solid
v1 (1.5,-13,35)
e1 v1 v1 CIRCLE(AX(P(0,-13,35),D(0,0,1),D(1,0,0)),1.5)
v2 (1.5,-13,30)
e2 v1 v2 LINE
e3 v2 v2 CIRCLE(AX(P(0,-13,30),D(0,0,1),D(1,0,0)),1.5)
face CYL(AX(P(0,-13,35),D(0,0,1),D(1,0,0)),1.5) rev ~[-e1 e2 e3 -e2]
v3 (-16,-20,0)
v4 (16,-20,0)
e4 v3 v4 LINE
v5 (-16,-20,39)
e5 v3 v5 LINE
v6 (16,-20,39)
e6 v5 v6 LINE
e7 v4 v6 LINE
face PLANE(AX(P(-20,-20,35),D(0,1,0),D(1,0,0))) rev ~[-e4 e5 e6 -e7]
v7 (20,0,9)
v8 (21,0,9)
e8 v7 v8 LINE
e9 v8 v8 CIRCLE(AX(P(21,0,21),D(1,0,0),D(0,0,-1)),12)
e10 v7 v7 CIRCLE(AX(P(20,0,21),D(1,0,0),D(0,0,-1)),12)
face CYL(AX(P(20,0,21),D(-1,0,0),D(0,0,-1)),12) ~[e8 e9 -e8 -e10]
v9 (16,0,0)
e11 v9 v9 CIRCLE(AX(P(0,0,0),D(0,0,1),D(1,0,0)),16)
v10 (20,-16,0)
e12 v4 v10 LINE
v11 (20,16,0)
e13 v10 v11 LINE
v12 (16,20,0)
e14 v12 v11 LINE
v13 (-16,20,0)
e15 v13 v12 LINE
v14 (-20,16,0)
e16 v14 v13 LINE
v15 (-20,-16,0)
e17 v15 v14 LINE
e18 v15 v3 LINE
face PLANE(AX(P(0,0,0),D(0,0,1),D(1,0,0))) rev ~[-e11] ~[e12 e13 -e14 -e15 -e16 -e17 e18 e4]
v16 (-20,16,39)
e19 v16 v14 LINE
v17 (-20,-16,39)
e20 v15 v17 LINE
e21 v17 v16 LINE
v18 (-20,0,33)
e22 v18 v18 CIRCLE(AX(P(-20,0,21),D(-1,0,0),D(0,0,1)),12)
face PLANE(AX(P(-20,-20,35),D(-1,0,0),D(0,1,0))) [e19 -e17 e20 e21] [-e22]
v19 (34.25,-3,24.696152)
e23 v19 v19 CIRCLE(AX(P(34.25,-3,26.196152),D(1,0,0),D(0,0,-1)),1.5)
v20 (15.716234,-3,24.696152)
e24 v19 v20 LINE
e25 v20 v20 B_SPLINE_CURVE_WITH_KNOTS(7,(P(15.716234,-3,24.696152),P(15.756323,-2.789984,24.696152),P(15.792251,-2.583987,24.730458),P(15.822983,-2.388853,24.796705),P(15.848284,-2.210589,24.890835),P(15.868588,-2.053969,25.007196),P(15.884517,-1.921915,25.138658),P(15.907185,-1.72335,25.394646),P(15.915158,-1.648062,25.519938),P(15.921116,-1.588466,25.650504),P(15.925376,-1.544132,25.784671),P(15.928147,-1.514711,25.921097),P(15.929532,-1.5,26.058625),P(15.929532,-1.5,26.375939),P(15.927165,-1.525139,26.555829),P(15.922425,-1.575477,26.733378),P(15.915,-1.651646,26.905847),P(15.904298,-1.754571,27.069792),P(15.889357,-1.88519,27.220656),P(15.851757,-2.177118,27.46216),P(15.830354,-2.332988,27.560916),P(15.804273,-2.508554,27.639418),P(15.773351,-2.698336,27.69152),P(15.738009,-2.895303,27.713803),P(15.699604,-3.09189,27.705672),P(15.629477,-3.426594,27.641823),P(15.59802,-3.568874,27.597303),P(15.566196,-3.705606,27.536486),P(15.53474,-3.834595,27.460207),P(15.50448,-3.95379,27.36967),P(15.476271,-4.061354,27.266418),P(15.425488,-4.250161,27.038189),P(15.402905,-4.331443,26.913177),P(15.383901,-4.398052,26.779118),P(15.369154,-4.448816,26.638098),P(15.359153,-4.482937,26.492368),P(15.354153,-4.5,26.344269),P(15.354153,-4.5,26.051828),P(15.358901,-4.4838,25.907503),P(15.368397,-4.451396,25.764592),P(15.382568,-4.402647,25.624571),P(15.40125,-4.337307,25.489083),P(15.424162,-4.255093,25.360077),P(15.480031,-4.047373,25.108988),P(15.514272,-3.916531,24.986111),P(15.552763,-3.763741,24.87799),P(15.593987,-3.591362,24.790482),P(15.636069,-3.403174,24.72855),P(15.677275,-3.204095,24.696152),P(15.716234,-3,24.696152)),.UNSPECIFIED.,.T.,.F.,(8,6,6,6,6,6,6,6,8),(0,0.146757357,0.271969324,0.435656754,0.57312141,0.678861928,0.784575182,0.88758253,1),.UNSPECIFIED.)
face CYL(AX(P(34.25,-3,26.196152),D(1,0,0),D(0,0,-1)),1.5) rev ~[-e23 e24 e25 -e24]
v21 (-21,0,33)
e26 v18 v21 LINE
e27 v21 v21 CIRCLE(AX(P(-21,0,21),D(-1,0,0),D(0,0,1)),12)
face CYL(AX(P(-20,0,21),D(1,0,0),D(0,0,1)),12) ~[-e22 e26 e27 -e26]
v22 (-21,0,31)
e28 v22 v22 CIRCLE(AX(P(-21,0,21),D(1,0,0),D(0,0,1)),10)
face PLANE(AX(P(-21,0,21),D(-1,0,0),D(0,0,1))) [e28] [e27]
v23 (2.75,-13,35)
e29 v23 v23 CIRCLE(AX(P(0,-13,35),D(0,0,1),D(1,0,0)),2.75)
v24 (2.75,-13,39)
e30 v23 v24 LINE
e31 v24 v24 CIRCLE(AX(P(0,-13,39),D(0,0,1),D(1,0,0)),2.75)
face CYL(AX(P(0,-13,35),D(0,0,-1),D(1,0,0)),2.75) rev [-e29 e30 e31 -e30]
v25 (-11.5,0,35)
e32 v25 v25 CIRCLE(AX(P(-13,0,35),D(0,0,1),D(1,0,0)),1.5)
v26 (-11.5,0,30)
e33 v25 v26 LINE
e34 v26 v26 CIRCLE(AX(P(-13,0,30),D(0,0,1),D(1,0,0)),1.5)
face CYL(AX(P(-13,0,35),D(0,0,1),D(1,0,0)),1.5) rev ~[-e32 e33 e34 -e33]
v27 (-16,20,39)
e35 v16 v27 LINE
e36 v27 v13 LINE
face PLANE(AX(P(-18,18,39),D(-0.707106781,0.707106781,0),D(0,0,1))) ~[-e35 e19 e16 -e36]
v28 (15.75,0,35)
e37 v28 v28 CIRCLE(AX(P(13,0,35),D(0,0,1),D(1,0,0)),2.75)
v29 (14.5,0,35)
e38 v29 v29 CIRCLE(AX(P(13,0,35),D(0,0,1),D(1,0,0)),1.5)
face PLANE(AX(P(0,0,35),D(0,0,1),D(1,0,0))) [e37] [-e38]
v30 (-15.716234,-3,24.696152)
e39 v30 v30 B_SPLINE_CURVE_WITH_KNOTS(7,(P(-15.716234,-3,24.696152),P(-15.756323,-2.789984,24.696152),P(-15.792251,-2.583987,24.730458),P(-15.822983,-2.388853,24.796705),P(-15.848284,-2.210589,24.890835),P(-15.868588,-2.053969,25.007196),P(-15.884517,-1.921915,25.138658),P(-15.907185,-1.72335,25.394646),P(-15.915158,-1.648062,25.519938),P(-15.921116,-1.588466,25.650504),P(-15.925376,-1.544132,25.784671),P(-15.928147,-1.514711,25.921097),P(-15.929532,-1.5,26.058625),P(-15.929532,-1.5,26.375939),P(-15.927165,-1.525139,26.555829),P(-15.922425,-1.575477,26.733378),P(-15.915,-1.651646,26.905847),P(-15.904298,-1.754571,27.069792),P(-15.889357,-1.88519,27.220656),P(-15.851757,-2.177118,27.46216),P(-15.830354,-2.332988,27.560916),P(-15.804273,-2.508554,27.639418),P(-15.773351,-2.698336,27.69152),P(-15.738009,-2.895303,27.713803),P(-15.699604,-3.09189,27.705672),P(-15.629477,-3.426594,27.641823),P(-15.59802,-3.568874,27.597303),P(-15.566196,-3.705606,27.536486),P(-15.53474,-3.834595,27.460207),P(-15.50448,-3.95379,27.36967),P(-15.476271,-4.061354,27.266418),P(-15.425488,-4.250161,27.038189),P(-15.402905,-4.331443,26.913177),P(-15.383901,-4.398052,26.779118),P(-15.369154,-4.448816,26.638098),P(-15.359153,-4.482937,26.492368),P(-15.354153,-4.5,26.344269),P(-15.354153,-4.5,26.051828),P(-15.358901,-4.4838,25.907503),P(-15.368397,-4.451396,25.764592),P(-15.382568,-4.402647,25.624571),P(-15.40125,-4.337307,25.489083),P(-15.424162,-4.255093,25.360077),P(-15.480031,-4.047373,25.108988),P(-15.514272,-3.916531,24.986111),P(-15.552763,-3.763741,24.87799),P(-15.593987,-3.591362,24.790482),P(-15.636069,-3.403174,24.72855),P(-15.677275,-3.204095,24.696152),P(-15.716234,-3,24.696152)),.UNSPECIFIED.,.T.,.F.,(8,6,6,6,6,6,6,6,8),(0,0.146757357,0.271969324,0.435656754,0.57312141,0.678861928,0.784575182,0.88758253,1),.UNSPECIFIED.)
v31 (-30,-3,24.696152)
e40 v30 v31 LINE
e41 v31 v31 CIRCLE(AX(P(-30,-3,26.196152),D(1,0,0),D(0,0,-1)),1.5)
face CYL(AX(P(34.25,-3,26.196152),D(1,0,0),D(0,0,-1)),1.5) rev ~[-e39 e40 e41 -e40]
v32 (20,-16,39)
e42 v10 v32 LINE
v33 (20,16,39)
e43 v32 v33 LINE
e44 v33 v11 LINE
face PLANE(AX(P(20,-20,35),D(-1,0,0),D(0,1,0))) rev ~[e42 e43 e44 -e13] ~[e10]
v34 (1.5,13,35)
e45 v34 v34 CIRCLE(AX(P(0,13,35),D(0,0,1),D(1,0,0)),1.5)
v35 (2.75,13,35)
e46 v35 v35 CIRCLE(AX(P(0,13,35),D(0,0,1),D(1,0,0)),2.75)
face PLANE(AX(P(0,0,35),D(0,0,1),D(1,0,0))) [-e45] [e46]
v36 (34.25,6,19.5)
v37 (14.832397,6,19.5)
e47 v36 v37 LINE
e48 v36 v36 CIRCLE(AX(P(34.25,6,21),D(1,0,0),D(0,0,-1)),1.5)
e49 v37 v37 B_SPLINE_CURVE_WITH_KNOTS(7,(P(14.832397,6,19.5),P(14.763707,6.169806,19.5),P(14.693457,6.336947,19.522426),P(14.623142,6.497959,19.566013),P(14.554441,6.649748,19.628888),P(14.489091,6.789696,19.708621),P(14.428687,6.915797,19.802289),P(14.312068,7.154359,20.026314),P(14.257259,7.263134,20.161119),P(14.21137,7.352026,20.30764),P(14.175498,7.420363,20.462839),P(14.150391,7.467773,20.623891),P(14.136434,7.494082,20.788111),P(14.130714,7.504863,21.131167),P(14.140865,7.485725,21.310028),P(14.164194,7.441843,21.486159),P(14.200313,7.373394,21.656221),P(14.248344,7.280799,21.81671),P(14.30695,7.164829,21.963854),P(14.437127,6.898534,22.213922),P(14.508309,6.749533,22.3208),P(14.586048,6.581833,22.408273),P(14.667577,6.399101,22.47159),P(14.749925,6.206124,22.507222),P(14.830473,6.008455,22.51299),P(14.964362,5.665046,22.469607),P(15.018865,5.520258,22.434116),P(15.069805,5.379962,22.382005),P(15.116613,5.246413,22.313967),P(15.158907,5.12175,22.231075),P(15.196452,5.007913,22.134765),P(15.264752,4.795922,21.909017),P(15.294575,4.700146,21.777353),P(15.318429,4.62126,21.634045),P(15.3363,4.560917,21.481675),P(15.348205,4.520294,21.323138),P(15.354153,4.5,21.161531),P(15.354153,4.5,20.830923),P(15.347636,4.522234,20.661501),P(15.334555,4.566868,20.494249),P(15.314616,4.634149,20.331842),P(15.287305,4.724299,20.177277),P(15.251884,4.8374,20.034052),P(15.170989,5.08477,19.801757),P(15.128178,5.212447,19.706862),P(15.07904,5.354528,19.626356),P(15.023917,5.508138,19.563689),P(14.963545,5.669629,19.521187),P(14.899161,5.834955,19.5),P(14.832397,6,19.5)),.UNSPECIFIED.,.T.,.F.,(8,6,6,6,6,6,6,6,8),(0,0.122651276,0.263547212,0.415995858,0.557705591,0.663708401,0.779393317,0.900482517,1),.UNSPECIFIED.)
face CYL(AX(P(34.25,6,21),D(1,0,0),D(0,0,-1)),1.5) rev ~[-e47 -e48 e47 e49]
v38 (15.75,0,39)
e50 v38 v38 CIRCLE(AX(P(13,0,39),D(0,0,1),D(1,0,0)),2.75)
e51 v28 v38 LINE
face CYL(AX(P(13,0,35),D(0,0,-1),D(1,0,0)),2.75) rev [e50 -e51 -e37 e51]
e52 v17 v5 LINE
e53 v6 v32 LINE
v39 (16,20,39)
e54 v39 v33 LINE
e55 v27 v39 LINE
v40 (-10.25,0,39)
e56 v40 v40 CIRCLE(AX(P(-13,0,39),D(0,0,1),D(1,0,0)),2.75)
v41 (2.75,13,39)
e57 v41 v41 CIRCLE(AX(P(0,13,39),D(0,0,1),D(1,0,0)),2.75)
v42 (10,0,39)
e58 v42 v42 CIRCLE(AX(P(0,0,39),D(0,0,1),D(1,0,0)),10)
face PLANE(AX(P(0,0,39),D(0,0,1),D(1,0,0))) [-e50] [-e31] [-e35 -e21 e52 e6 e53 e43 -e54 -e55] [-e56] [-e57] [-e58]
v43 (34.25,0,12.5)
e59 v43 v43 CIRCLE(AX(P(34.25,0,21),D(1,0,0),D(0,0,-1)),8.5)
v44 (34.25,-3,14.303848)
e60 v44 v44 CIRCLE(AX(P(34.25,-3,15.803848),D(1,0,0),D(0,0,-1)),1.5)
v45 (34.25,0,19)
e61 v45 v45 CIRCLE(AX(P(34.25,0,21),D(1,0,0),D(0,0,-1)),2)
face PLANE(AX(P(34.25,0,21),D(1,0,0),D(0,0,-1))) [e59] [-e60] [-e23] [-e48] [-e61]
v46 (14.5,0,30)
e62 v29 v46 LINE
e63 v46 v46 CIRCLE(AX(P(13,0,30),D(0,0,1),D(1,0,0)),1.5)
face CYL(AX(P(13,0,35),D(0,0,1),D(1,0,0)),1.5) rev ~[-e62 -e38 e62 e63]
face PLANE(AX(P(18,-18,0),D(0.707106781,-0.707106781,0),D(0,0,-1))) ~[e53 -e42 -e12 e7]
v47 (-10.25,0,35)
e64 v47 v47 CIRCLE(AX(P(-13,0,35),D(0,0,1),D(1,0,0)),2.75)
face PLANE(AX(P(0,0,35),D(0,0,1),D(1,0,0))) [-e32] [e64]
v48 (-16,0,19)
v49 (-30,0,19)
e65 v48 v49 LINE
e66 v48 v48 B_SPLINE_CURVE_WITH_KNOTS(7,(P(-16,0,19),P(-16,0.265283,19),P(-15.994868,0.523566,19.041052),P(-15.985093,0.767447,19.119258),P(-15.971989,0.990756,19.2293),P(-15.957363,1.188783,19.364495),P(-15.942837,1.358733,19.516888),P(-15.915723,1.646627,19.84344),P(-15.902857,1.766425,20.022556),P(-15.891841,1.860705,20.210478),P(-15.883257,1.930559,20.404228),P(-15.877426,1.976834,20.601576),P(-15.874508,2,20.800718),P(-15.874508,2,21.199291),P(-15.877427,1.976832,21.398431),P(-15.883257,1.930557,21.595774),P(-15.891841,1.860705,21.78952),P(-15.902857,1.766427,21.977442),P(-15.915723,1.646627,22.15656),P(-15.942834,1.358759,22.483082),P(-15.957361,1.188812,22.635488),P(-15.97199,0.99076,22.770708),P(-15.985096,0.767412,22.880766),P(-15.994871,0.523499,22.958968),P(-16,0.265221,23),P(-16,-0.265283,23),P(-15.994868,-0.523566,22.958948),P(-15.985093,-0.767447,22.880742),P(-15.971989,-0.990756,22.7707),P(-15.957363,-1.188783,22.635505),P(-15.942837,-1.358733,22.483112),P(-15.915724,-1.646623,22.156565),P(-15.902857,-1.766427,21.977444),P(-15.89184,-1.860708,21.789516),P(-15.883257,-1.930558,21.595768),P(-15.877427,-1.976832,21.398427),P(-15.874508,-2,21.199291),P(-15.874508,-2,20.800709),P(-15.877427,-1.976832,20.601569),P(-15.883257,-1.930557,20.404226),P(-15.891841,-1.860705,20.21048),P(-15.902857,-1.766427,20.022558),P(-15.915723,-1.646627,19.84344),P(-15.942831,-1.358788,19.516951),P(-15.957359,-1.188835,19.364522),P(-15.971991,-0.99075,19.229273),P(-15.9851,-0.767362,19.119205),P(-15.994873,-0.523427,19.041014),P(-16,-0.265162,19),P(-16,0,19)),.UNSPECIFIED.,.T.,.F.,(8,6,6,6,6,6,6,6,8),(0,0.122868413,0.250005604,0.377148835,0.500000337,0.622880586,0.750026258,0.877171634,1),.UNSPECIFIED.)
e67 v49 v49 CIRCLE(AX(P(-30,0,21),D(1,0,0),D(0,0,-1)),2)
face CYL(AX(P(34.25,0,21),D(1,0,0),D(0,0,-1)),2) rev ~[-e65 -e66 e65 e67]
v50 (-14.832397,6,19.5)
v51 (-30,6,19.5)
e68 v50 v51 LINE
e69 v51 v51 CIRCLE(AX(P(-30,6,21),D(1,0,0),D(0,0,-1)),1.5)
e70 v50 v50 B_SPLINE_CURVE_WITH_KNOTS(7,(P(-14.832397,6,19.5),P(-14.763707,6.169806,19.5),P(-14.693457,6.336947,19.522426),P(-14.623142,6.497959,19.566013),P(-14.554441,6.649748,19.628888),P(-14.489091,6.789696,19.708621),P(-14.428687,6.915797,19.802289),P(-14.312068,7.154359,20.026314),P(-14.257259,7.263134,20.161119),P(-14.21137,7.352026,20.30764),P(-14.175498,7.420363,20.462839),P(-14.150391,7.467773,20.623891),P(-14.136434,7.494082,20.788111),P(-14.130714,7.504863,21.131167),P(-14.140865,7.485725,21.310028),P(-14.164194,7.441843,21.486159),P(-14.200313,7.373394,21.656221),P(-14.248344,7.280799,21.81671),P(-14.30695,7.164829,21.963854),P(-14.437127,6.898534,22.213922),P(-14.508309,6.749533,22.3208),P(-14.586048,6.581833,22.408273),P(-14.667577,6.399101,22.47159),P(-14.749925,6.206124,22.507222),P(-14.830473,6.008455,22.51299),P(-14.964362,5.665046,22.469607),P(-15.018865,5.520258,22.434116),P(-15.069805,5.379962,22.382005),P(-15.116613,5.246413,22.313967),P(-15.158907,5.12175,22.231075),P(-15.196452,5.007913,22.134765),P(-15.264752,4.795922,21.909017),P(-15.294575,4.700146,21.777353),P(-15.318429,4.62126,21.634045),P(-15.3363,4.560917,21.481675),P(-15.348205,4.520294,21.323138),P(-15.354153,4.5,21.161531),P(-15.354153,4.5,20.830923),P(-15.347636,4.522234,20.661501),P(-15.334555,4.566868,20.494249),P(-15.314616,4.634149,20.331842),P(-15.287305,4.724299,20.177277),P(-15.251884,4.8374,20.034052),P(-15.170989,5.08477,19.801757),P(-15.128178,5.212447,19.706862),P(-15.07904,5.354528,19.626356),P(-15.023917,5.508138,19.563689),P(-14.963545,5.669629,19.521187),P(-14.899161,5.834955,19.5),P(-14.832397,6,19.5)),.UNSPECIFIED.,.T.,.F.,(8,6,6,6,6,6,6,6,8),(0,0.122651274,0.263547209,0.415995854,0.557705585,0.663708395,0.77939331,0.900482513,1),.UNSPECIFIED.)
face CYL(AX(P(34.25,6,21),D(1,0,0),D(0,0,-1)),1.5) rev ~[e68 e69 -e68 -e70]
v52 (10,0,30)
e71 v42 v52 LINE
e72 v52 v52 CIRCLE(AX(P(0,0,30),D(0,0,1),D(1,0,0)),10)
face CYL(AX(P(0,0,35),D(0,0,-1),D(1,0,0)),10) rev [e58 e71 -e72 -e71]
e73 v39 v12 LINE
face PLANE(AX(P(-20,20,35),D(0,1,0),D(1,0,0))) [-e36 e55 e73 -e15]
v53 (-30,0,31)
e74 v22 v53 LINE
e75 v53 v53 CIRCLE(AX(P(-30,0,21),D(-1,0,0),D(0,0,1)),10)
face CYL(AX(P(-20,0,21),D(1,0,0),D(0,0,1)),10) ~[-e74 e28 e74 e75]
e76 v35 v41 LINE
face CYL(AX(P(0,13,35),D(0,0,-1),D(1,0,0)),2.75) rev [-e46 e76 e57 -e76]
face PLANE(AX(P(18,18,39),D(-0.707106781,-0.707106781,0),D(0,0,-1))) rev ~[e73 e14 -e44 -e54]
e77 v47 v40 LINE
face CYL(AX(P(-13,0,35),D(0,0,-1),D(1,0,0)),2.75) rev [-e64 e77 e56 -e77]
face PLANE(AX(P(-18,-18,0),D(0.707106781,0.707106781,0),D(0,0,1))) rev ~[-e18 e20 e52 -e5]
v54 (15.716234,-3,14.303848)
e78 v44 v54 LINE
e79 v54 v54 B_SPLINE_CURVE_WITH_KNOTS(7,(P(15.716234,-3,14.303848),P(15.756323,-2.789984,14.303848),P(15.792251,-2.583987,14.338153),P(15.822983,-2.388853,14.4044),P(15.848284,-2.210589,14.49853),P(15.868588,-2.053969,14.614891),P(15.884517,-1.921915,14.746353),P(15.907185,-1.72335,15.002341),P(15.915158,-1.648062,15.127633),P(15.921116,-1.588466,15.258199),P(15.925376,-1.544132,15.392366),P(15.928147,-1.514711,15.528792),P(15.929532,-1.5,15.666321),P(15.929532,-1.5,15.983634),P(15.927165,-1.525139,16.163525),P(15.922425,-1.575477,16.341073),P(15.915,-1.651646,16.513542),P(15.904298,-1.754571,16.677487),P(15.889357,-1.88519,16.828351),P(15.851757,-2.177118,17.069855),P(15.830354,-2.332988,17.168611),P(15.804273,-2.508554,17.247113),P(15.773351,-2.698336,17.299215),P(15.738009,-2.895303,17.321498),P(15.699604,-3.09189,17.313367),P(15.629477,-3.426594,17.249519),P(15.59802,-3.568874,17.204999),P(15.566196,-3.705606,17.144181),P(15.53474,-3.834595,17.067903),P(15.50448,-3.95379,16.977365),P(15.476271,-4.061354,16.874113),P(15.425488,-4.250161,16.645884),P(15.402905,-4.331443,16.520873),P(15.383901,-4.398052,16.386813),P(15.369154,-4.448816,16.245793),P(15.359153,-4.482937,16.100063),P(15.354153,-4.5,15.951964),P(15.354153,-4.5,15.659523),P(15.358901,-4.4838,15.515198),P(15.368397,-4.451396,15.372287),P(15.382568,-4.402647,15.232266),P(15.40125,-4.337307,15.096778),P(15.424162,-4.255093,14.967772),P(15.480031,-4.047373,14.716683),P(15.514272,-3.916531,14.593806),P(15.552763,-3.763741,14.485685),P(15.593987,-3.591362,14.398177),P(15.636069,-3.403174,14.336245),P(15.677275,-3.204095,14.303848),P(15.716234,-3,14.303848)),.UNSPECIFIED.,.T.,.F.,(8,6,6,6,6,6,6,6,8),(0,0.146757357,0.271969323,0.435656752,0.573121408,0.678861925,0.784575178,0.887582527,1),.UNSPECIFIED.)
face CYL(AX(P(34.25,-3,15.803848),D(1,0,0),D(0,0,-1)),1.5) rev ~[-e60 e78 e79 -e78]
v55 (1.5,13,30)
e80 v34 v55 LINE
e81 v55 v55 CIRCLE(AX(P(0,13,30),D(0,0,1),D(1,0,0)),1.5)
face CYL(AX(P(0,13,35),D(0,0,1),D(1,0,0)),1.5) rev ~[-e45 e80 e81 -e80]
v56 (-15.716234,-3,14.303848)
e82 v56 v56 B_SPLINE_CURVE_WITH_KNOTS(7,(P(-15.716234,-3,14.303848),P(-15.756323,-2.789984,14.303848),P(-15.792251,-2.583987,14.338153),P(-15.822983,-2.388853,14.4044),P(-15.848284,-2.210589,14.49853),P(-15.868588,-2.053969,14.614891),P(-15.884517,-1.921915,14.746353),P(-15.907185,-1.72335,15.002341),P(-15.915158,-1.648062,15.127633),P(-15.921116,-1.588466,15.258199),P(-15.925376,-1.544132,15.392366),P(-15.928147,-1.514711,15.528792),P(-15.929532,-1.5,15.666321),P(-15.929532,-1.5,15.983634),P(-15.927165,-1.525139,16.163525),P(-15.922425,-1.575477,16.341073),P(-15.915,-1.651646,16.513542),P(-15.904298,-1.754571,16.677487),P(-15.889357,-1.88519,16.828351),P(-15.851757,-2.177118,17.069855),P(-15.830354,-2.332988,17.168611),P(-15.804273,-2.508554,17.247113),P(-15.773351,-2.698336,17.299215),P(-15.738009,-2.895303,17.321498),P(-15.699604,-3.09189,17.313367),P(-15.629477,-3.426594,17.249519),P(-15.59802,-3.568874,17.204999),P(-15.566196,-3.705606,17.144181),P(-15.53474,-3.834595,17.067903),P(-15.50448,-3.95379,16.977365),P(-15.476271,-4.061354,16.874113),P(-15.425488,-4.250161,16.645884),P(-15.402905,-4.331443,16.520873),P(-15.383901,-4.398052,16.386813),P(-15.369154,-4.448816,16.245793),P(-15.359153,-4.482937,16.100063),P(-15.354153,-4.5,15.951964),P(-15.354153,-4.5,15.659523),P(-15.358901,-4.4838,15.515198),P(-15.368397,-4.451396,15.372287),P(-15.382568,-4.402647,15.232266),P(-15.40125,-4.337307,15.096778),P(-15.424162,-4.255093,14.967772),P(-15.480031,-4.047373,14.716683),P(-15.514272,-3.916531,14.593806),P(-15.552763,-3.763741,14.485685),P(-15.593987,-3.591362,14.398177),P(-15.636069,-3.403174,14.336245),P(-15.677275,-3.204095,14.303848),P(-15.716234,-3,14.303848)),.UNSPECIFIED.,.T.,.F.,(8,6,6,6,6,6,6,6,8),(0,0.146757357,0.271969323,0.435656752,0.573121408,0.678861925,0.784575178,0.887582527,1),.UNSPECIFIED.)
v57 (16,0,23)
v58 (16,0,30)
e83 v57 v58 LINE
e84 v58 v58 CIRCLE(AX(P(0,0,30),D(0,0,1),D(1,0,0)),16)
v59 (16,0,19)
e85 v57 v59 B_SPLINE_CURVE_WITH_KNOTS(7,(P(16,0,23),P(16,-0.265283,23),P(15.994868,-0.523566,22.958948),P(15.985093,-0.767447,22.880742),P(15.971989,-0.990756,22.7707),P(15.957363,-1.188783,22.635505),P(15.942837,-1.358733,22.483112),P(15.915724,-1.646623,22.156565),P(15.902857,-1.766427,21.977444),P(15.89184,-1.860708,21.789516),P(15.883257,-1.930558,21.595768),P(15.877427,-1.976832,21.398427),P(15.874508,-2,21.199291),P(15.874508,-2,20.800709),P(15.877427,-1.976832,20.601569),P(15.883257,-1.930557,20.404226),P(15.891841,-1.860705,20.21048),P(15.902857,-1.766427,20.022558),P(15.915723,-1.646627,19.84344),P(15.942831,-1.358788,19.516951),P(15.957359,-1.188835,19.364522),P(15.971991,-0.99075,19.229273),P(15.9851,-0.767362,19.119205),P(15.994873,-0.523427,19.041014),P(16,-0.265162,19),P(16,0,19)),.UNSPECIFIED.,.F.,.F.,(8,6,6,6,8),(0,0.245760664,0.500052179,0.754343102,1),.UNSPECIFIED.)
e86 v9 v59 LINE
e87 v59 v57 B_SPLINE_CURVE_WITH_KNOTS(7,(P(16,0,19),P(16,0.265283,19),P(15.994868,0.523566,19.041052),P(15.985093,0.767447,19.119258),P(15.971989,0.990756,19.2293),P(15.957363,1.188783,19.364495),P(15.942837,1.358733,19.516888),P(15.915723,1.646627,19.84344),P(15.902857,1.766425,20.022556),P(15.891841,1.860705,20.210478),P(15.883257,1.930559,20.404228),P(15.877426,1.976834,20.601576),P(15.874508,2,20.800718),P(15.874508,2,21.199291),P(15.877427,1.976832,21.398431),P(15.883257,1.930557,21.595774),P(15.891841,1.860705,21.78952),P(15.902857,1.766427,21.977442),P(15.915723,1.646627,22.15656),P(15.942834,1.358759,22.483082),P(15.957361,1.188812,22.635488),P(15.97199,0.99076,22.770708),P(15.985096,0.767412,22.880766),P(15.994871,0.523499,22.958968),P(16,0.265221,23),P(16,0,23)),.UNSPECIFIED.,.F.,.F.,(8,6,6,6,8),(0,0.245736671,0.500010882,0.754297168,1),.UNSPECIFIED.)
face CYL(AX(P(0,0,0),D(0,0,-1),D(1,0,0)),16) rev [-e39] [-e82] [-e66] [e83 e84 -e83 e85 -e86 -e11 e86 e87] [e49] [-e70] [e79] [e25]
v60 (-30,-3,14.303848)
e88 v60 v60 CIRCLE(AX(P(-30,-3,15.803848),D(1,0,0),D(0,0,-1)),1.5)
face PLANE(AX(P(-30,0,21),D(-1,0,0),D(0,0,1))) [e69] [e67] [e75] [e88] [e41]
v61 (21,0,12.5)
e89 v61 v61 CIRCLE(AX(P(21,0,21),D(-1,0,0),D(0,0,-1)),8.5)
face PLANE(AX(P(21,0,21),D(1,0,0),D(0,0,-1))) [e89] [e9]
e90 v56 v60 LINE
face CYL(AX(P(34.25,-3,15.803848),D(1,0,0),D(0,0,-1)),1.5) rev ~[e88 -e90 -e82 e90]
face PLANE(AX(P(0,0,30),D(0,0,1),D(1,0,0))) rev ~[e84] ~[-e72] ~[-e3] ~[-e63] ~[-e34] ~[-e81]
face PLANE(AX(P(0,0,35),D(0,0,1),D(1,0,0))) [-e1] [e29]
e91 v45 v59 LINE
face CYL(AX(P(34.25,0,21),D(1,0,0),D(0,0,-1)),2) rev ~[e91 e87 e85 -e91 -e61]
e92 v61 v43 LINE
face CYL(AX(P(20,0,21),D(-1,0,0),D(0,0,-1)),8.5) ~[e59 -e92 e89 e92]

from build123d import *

# Parameters (mm, degrees)
ESQUISSE1_W             = 40
ESQUISSE1_H             = 40
ESQUISSE1_R             = 16
BOSS_EXTRU_1_DEPTH      = 30
ESQUISSE2_W             = 40
ESQUISSE2_H             = 40
BOSS_EXTRU_2_DEPTH      = 5
ESQUISSE3_R             = 1.5
ENL_V_MAT_EXTRU_1_DEPTH = 5
ESQUISSE4_R             = 10
ENL_V_MAT_EXTRU_2_DEPTH = 5
ESQUISSE5_R             = 10
BOSS_EXTRU_3_DEPTH      = 10
ESQUISSE6_R             = 12
BOSS_EXTRU_4_DEPTH      = 1
ESQUISSE7_R             = 8.5
BOSS_EXTRU_5_DEPTH      = 14.25
BOSS_EXTRU_6_START      = 1
ESQUISSE8_R             = 12
BOSS_EXTRU_6_DEPTH      = 1
BOSS_EXTRU_7_START      = 4
ESQUISSE9_W             = 40
ESQUISSE9_H             = 40
ESQUISSE9_R             = 2.75
ESQUISSE9_R_2           = 10
BOSS_EXTRU_7_DEPTH      = 4
ESQUISSE10_R            = 1.5
ESQUISSE10_R_2          = 2
ENL_V_MAT_EXTRU_3_DEPTH = 78.775719219
CHANFREIN1_SIZE         = 4


with BuildPart() as part:
    # Esquisse1 → Boss.-Extru.1 (new body)
    with BuildSketch(Plane.XY):
        Rectangle(ESQUISSE1_W, ESQUISSE1_H)
        Circle(ESQUISSE1_R, mode=Mode.SUBTRACT)
    extrude(amount=BOSS_EXTRU_1_DEPTH)

    # Esquisse2 → Boss.-Extru.2 (add)
    with BuildSketch(Plane.XY.offset(30)):
        Rectangle(ESQUISSE2_W, ESQUISSE2_H)
    extrude(amount=BOSS_EXTRU_2_DEPTH)

    # Esquisse3 → Enlèv. mat.-Extru.1 (cut)
    with BuildSketch(Plane.XY.offset(35)):
        with Locations((0, 13)):
            Circle(ESQUISSE3_R)
        with Locations((13, 0)):
            Circle(ESQUISSE3_R)
        with Locations((0, -13)):
            Circle(ESQUISSE3_R)
        with Locations((-13, 0)):
            Circle(ESQUISSE3_R)
    extrude(amount=-ENL_V_MAT_EXTRU_1_DEPTH, mode=Mode.SUBTRACT)

    # Esquisse4 → Enlèv. mat.-Extru.2 (cut)
    with BuildSketch(Plane.XY.offset(35)):
        Circle(ESQUISSE4_R)
    extrude(amount=-ENL_V_MAT_EXTRU_2_DEPTH, mode=Mode.SUBTRACT)

    # Esquisse5 → Boss.-Extru.3 (add)
    with BuildSketch(Plane.ZY.offset(20)):
        with Locations((21, 0)):
            Circle(ESQUISSE5_R)
    extrude(amount=BOSS_EXTRU_3_DEPTH)

    # Esquisse6 → Boss.-Extru.4 (add)
    with BuildSketch(Plane.ZY.offset(20)):
        with Locations((21, 0)):
            Circle(ESQUISSE6_R)
    extrude(amount=BOSS_EXTRU_4_DEPTH)

    # Esquisse7 → Boss.-Extru.5 (add)
    with BuildSketch(Plane(origin=(20, 0, 0), x_dir=(0, 0, -1), z_dir=(1, 0, 0))):
        with Locations((-21, 0)):
            Circle(ESQUISSE7_R)
    extrude(amount=BOSS_EXTRU_5_DEPTH)

    # Esquisse8 → Boss.-Extru.6 (add)
    with BuildSketch(Plane(origin=(20, 0, 0), x_dir=(0, 0, -1), z_dir=(1, 0, 0)).offset(BOSS_EXTRU_6_START)):
        with Locations((-21, 0)):
            Circle(ESQUISSE8_R)
    extrude(amount=-BOSS_EXTRU_6_DEPTH)

    # Esquisse9 → Boss.-Extru.7 (add)
    with BuildSketch(Plane.XY.offset(35).offset(BOSS_EXTRU_7_START)):
        Rectangle(ESQUISSE9_W, ESQUISSE9_H)
        with Locations((0, 13)):
            Circle(ESQUISSE9_R, mode=Mode.SUBTRACT)
        with Locations((-13, 0)):
            Circle(ESQUISSE9_R, mode=Mode.SUBTRACT)
        with Locations((0, -13)):
            Circle(ESQUISSE9_R, mode=Mode.SUBTRACT)
        with Locations((13, 0)):
            Circle(ESQUISSE9_R, mode=Mode.SUBTRACT)
        Circle(ESQUISSE9_R_2, mode=Mode.SUBTRACT)
    extrude(amount=-BOSS_EXTRU_7_DEPTH)

    # Esquisse10 → Enlèv. mat.-Extru.3 (cut, through all)
    with BuildSketch(Plane(origin=(34.25, 0, 0), x_dir=(0, 0, -1), z_dir=(1, 0, 0))):
        with Locations((-21, 6)):
            Circle(ESQUISSE10_R)
        with Locations((-15.803847577, -3)):
            Circle(ESQUISSE10_R)
        with Locations((-26.196152423, -3)):
            Circle(ESQUISSE10_R)
        with Locations((-21, 0)):
            Circle(ESQUISSE10_R_2)
    extrude(amount=-ENL_V_MAT_EXTRU_3_DEPTH, mode=Mode.SUBTRACT)

    # Chanfrein1
    chanfrein1_edges = [part.edges().sort_by_distance(p)[0] for p in [
        (-20, -20, 19.5),
        (20, -20, 19.5),
        (20, 20, 19.5),
        (-20, 20, 19.5),
    ]]
    chamfer(chanfrein1_edges, length=CHANFREIN1_SIZE)


solid = part.part
